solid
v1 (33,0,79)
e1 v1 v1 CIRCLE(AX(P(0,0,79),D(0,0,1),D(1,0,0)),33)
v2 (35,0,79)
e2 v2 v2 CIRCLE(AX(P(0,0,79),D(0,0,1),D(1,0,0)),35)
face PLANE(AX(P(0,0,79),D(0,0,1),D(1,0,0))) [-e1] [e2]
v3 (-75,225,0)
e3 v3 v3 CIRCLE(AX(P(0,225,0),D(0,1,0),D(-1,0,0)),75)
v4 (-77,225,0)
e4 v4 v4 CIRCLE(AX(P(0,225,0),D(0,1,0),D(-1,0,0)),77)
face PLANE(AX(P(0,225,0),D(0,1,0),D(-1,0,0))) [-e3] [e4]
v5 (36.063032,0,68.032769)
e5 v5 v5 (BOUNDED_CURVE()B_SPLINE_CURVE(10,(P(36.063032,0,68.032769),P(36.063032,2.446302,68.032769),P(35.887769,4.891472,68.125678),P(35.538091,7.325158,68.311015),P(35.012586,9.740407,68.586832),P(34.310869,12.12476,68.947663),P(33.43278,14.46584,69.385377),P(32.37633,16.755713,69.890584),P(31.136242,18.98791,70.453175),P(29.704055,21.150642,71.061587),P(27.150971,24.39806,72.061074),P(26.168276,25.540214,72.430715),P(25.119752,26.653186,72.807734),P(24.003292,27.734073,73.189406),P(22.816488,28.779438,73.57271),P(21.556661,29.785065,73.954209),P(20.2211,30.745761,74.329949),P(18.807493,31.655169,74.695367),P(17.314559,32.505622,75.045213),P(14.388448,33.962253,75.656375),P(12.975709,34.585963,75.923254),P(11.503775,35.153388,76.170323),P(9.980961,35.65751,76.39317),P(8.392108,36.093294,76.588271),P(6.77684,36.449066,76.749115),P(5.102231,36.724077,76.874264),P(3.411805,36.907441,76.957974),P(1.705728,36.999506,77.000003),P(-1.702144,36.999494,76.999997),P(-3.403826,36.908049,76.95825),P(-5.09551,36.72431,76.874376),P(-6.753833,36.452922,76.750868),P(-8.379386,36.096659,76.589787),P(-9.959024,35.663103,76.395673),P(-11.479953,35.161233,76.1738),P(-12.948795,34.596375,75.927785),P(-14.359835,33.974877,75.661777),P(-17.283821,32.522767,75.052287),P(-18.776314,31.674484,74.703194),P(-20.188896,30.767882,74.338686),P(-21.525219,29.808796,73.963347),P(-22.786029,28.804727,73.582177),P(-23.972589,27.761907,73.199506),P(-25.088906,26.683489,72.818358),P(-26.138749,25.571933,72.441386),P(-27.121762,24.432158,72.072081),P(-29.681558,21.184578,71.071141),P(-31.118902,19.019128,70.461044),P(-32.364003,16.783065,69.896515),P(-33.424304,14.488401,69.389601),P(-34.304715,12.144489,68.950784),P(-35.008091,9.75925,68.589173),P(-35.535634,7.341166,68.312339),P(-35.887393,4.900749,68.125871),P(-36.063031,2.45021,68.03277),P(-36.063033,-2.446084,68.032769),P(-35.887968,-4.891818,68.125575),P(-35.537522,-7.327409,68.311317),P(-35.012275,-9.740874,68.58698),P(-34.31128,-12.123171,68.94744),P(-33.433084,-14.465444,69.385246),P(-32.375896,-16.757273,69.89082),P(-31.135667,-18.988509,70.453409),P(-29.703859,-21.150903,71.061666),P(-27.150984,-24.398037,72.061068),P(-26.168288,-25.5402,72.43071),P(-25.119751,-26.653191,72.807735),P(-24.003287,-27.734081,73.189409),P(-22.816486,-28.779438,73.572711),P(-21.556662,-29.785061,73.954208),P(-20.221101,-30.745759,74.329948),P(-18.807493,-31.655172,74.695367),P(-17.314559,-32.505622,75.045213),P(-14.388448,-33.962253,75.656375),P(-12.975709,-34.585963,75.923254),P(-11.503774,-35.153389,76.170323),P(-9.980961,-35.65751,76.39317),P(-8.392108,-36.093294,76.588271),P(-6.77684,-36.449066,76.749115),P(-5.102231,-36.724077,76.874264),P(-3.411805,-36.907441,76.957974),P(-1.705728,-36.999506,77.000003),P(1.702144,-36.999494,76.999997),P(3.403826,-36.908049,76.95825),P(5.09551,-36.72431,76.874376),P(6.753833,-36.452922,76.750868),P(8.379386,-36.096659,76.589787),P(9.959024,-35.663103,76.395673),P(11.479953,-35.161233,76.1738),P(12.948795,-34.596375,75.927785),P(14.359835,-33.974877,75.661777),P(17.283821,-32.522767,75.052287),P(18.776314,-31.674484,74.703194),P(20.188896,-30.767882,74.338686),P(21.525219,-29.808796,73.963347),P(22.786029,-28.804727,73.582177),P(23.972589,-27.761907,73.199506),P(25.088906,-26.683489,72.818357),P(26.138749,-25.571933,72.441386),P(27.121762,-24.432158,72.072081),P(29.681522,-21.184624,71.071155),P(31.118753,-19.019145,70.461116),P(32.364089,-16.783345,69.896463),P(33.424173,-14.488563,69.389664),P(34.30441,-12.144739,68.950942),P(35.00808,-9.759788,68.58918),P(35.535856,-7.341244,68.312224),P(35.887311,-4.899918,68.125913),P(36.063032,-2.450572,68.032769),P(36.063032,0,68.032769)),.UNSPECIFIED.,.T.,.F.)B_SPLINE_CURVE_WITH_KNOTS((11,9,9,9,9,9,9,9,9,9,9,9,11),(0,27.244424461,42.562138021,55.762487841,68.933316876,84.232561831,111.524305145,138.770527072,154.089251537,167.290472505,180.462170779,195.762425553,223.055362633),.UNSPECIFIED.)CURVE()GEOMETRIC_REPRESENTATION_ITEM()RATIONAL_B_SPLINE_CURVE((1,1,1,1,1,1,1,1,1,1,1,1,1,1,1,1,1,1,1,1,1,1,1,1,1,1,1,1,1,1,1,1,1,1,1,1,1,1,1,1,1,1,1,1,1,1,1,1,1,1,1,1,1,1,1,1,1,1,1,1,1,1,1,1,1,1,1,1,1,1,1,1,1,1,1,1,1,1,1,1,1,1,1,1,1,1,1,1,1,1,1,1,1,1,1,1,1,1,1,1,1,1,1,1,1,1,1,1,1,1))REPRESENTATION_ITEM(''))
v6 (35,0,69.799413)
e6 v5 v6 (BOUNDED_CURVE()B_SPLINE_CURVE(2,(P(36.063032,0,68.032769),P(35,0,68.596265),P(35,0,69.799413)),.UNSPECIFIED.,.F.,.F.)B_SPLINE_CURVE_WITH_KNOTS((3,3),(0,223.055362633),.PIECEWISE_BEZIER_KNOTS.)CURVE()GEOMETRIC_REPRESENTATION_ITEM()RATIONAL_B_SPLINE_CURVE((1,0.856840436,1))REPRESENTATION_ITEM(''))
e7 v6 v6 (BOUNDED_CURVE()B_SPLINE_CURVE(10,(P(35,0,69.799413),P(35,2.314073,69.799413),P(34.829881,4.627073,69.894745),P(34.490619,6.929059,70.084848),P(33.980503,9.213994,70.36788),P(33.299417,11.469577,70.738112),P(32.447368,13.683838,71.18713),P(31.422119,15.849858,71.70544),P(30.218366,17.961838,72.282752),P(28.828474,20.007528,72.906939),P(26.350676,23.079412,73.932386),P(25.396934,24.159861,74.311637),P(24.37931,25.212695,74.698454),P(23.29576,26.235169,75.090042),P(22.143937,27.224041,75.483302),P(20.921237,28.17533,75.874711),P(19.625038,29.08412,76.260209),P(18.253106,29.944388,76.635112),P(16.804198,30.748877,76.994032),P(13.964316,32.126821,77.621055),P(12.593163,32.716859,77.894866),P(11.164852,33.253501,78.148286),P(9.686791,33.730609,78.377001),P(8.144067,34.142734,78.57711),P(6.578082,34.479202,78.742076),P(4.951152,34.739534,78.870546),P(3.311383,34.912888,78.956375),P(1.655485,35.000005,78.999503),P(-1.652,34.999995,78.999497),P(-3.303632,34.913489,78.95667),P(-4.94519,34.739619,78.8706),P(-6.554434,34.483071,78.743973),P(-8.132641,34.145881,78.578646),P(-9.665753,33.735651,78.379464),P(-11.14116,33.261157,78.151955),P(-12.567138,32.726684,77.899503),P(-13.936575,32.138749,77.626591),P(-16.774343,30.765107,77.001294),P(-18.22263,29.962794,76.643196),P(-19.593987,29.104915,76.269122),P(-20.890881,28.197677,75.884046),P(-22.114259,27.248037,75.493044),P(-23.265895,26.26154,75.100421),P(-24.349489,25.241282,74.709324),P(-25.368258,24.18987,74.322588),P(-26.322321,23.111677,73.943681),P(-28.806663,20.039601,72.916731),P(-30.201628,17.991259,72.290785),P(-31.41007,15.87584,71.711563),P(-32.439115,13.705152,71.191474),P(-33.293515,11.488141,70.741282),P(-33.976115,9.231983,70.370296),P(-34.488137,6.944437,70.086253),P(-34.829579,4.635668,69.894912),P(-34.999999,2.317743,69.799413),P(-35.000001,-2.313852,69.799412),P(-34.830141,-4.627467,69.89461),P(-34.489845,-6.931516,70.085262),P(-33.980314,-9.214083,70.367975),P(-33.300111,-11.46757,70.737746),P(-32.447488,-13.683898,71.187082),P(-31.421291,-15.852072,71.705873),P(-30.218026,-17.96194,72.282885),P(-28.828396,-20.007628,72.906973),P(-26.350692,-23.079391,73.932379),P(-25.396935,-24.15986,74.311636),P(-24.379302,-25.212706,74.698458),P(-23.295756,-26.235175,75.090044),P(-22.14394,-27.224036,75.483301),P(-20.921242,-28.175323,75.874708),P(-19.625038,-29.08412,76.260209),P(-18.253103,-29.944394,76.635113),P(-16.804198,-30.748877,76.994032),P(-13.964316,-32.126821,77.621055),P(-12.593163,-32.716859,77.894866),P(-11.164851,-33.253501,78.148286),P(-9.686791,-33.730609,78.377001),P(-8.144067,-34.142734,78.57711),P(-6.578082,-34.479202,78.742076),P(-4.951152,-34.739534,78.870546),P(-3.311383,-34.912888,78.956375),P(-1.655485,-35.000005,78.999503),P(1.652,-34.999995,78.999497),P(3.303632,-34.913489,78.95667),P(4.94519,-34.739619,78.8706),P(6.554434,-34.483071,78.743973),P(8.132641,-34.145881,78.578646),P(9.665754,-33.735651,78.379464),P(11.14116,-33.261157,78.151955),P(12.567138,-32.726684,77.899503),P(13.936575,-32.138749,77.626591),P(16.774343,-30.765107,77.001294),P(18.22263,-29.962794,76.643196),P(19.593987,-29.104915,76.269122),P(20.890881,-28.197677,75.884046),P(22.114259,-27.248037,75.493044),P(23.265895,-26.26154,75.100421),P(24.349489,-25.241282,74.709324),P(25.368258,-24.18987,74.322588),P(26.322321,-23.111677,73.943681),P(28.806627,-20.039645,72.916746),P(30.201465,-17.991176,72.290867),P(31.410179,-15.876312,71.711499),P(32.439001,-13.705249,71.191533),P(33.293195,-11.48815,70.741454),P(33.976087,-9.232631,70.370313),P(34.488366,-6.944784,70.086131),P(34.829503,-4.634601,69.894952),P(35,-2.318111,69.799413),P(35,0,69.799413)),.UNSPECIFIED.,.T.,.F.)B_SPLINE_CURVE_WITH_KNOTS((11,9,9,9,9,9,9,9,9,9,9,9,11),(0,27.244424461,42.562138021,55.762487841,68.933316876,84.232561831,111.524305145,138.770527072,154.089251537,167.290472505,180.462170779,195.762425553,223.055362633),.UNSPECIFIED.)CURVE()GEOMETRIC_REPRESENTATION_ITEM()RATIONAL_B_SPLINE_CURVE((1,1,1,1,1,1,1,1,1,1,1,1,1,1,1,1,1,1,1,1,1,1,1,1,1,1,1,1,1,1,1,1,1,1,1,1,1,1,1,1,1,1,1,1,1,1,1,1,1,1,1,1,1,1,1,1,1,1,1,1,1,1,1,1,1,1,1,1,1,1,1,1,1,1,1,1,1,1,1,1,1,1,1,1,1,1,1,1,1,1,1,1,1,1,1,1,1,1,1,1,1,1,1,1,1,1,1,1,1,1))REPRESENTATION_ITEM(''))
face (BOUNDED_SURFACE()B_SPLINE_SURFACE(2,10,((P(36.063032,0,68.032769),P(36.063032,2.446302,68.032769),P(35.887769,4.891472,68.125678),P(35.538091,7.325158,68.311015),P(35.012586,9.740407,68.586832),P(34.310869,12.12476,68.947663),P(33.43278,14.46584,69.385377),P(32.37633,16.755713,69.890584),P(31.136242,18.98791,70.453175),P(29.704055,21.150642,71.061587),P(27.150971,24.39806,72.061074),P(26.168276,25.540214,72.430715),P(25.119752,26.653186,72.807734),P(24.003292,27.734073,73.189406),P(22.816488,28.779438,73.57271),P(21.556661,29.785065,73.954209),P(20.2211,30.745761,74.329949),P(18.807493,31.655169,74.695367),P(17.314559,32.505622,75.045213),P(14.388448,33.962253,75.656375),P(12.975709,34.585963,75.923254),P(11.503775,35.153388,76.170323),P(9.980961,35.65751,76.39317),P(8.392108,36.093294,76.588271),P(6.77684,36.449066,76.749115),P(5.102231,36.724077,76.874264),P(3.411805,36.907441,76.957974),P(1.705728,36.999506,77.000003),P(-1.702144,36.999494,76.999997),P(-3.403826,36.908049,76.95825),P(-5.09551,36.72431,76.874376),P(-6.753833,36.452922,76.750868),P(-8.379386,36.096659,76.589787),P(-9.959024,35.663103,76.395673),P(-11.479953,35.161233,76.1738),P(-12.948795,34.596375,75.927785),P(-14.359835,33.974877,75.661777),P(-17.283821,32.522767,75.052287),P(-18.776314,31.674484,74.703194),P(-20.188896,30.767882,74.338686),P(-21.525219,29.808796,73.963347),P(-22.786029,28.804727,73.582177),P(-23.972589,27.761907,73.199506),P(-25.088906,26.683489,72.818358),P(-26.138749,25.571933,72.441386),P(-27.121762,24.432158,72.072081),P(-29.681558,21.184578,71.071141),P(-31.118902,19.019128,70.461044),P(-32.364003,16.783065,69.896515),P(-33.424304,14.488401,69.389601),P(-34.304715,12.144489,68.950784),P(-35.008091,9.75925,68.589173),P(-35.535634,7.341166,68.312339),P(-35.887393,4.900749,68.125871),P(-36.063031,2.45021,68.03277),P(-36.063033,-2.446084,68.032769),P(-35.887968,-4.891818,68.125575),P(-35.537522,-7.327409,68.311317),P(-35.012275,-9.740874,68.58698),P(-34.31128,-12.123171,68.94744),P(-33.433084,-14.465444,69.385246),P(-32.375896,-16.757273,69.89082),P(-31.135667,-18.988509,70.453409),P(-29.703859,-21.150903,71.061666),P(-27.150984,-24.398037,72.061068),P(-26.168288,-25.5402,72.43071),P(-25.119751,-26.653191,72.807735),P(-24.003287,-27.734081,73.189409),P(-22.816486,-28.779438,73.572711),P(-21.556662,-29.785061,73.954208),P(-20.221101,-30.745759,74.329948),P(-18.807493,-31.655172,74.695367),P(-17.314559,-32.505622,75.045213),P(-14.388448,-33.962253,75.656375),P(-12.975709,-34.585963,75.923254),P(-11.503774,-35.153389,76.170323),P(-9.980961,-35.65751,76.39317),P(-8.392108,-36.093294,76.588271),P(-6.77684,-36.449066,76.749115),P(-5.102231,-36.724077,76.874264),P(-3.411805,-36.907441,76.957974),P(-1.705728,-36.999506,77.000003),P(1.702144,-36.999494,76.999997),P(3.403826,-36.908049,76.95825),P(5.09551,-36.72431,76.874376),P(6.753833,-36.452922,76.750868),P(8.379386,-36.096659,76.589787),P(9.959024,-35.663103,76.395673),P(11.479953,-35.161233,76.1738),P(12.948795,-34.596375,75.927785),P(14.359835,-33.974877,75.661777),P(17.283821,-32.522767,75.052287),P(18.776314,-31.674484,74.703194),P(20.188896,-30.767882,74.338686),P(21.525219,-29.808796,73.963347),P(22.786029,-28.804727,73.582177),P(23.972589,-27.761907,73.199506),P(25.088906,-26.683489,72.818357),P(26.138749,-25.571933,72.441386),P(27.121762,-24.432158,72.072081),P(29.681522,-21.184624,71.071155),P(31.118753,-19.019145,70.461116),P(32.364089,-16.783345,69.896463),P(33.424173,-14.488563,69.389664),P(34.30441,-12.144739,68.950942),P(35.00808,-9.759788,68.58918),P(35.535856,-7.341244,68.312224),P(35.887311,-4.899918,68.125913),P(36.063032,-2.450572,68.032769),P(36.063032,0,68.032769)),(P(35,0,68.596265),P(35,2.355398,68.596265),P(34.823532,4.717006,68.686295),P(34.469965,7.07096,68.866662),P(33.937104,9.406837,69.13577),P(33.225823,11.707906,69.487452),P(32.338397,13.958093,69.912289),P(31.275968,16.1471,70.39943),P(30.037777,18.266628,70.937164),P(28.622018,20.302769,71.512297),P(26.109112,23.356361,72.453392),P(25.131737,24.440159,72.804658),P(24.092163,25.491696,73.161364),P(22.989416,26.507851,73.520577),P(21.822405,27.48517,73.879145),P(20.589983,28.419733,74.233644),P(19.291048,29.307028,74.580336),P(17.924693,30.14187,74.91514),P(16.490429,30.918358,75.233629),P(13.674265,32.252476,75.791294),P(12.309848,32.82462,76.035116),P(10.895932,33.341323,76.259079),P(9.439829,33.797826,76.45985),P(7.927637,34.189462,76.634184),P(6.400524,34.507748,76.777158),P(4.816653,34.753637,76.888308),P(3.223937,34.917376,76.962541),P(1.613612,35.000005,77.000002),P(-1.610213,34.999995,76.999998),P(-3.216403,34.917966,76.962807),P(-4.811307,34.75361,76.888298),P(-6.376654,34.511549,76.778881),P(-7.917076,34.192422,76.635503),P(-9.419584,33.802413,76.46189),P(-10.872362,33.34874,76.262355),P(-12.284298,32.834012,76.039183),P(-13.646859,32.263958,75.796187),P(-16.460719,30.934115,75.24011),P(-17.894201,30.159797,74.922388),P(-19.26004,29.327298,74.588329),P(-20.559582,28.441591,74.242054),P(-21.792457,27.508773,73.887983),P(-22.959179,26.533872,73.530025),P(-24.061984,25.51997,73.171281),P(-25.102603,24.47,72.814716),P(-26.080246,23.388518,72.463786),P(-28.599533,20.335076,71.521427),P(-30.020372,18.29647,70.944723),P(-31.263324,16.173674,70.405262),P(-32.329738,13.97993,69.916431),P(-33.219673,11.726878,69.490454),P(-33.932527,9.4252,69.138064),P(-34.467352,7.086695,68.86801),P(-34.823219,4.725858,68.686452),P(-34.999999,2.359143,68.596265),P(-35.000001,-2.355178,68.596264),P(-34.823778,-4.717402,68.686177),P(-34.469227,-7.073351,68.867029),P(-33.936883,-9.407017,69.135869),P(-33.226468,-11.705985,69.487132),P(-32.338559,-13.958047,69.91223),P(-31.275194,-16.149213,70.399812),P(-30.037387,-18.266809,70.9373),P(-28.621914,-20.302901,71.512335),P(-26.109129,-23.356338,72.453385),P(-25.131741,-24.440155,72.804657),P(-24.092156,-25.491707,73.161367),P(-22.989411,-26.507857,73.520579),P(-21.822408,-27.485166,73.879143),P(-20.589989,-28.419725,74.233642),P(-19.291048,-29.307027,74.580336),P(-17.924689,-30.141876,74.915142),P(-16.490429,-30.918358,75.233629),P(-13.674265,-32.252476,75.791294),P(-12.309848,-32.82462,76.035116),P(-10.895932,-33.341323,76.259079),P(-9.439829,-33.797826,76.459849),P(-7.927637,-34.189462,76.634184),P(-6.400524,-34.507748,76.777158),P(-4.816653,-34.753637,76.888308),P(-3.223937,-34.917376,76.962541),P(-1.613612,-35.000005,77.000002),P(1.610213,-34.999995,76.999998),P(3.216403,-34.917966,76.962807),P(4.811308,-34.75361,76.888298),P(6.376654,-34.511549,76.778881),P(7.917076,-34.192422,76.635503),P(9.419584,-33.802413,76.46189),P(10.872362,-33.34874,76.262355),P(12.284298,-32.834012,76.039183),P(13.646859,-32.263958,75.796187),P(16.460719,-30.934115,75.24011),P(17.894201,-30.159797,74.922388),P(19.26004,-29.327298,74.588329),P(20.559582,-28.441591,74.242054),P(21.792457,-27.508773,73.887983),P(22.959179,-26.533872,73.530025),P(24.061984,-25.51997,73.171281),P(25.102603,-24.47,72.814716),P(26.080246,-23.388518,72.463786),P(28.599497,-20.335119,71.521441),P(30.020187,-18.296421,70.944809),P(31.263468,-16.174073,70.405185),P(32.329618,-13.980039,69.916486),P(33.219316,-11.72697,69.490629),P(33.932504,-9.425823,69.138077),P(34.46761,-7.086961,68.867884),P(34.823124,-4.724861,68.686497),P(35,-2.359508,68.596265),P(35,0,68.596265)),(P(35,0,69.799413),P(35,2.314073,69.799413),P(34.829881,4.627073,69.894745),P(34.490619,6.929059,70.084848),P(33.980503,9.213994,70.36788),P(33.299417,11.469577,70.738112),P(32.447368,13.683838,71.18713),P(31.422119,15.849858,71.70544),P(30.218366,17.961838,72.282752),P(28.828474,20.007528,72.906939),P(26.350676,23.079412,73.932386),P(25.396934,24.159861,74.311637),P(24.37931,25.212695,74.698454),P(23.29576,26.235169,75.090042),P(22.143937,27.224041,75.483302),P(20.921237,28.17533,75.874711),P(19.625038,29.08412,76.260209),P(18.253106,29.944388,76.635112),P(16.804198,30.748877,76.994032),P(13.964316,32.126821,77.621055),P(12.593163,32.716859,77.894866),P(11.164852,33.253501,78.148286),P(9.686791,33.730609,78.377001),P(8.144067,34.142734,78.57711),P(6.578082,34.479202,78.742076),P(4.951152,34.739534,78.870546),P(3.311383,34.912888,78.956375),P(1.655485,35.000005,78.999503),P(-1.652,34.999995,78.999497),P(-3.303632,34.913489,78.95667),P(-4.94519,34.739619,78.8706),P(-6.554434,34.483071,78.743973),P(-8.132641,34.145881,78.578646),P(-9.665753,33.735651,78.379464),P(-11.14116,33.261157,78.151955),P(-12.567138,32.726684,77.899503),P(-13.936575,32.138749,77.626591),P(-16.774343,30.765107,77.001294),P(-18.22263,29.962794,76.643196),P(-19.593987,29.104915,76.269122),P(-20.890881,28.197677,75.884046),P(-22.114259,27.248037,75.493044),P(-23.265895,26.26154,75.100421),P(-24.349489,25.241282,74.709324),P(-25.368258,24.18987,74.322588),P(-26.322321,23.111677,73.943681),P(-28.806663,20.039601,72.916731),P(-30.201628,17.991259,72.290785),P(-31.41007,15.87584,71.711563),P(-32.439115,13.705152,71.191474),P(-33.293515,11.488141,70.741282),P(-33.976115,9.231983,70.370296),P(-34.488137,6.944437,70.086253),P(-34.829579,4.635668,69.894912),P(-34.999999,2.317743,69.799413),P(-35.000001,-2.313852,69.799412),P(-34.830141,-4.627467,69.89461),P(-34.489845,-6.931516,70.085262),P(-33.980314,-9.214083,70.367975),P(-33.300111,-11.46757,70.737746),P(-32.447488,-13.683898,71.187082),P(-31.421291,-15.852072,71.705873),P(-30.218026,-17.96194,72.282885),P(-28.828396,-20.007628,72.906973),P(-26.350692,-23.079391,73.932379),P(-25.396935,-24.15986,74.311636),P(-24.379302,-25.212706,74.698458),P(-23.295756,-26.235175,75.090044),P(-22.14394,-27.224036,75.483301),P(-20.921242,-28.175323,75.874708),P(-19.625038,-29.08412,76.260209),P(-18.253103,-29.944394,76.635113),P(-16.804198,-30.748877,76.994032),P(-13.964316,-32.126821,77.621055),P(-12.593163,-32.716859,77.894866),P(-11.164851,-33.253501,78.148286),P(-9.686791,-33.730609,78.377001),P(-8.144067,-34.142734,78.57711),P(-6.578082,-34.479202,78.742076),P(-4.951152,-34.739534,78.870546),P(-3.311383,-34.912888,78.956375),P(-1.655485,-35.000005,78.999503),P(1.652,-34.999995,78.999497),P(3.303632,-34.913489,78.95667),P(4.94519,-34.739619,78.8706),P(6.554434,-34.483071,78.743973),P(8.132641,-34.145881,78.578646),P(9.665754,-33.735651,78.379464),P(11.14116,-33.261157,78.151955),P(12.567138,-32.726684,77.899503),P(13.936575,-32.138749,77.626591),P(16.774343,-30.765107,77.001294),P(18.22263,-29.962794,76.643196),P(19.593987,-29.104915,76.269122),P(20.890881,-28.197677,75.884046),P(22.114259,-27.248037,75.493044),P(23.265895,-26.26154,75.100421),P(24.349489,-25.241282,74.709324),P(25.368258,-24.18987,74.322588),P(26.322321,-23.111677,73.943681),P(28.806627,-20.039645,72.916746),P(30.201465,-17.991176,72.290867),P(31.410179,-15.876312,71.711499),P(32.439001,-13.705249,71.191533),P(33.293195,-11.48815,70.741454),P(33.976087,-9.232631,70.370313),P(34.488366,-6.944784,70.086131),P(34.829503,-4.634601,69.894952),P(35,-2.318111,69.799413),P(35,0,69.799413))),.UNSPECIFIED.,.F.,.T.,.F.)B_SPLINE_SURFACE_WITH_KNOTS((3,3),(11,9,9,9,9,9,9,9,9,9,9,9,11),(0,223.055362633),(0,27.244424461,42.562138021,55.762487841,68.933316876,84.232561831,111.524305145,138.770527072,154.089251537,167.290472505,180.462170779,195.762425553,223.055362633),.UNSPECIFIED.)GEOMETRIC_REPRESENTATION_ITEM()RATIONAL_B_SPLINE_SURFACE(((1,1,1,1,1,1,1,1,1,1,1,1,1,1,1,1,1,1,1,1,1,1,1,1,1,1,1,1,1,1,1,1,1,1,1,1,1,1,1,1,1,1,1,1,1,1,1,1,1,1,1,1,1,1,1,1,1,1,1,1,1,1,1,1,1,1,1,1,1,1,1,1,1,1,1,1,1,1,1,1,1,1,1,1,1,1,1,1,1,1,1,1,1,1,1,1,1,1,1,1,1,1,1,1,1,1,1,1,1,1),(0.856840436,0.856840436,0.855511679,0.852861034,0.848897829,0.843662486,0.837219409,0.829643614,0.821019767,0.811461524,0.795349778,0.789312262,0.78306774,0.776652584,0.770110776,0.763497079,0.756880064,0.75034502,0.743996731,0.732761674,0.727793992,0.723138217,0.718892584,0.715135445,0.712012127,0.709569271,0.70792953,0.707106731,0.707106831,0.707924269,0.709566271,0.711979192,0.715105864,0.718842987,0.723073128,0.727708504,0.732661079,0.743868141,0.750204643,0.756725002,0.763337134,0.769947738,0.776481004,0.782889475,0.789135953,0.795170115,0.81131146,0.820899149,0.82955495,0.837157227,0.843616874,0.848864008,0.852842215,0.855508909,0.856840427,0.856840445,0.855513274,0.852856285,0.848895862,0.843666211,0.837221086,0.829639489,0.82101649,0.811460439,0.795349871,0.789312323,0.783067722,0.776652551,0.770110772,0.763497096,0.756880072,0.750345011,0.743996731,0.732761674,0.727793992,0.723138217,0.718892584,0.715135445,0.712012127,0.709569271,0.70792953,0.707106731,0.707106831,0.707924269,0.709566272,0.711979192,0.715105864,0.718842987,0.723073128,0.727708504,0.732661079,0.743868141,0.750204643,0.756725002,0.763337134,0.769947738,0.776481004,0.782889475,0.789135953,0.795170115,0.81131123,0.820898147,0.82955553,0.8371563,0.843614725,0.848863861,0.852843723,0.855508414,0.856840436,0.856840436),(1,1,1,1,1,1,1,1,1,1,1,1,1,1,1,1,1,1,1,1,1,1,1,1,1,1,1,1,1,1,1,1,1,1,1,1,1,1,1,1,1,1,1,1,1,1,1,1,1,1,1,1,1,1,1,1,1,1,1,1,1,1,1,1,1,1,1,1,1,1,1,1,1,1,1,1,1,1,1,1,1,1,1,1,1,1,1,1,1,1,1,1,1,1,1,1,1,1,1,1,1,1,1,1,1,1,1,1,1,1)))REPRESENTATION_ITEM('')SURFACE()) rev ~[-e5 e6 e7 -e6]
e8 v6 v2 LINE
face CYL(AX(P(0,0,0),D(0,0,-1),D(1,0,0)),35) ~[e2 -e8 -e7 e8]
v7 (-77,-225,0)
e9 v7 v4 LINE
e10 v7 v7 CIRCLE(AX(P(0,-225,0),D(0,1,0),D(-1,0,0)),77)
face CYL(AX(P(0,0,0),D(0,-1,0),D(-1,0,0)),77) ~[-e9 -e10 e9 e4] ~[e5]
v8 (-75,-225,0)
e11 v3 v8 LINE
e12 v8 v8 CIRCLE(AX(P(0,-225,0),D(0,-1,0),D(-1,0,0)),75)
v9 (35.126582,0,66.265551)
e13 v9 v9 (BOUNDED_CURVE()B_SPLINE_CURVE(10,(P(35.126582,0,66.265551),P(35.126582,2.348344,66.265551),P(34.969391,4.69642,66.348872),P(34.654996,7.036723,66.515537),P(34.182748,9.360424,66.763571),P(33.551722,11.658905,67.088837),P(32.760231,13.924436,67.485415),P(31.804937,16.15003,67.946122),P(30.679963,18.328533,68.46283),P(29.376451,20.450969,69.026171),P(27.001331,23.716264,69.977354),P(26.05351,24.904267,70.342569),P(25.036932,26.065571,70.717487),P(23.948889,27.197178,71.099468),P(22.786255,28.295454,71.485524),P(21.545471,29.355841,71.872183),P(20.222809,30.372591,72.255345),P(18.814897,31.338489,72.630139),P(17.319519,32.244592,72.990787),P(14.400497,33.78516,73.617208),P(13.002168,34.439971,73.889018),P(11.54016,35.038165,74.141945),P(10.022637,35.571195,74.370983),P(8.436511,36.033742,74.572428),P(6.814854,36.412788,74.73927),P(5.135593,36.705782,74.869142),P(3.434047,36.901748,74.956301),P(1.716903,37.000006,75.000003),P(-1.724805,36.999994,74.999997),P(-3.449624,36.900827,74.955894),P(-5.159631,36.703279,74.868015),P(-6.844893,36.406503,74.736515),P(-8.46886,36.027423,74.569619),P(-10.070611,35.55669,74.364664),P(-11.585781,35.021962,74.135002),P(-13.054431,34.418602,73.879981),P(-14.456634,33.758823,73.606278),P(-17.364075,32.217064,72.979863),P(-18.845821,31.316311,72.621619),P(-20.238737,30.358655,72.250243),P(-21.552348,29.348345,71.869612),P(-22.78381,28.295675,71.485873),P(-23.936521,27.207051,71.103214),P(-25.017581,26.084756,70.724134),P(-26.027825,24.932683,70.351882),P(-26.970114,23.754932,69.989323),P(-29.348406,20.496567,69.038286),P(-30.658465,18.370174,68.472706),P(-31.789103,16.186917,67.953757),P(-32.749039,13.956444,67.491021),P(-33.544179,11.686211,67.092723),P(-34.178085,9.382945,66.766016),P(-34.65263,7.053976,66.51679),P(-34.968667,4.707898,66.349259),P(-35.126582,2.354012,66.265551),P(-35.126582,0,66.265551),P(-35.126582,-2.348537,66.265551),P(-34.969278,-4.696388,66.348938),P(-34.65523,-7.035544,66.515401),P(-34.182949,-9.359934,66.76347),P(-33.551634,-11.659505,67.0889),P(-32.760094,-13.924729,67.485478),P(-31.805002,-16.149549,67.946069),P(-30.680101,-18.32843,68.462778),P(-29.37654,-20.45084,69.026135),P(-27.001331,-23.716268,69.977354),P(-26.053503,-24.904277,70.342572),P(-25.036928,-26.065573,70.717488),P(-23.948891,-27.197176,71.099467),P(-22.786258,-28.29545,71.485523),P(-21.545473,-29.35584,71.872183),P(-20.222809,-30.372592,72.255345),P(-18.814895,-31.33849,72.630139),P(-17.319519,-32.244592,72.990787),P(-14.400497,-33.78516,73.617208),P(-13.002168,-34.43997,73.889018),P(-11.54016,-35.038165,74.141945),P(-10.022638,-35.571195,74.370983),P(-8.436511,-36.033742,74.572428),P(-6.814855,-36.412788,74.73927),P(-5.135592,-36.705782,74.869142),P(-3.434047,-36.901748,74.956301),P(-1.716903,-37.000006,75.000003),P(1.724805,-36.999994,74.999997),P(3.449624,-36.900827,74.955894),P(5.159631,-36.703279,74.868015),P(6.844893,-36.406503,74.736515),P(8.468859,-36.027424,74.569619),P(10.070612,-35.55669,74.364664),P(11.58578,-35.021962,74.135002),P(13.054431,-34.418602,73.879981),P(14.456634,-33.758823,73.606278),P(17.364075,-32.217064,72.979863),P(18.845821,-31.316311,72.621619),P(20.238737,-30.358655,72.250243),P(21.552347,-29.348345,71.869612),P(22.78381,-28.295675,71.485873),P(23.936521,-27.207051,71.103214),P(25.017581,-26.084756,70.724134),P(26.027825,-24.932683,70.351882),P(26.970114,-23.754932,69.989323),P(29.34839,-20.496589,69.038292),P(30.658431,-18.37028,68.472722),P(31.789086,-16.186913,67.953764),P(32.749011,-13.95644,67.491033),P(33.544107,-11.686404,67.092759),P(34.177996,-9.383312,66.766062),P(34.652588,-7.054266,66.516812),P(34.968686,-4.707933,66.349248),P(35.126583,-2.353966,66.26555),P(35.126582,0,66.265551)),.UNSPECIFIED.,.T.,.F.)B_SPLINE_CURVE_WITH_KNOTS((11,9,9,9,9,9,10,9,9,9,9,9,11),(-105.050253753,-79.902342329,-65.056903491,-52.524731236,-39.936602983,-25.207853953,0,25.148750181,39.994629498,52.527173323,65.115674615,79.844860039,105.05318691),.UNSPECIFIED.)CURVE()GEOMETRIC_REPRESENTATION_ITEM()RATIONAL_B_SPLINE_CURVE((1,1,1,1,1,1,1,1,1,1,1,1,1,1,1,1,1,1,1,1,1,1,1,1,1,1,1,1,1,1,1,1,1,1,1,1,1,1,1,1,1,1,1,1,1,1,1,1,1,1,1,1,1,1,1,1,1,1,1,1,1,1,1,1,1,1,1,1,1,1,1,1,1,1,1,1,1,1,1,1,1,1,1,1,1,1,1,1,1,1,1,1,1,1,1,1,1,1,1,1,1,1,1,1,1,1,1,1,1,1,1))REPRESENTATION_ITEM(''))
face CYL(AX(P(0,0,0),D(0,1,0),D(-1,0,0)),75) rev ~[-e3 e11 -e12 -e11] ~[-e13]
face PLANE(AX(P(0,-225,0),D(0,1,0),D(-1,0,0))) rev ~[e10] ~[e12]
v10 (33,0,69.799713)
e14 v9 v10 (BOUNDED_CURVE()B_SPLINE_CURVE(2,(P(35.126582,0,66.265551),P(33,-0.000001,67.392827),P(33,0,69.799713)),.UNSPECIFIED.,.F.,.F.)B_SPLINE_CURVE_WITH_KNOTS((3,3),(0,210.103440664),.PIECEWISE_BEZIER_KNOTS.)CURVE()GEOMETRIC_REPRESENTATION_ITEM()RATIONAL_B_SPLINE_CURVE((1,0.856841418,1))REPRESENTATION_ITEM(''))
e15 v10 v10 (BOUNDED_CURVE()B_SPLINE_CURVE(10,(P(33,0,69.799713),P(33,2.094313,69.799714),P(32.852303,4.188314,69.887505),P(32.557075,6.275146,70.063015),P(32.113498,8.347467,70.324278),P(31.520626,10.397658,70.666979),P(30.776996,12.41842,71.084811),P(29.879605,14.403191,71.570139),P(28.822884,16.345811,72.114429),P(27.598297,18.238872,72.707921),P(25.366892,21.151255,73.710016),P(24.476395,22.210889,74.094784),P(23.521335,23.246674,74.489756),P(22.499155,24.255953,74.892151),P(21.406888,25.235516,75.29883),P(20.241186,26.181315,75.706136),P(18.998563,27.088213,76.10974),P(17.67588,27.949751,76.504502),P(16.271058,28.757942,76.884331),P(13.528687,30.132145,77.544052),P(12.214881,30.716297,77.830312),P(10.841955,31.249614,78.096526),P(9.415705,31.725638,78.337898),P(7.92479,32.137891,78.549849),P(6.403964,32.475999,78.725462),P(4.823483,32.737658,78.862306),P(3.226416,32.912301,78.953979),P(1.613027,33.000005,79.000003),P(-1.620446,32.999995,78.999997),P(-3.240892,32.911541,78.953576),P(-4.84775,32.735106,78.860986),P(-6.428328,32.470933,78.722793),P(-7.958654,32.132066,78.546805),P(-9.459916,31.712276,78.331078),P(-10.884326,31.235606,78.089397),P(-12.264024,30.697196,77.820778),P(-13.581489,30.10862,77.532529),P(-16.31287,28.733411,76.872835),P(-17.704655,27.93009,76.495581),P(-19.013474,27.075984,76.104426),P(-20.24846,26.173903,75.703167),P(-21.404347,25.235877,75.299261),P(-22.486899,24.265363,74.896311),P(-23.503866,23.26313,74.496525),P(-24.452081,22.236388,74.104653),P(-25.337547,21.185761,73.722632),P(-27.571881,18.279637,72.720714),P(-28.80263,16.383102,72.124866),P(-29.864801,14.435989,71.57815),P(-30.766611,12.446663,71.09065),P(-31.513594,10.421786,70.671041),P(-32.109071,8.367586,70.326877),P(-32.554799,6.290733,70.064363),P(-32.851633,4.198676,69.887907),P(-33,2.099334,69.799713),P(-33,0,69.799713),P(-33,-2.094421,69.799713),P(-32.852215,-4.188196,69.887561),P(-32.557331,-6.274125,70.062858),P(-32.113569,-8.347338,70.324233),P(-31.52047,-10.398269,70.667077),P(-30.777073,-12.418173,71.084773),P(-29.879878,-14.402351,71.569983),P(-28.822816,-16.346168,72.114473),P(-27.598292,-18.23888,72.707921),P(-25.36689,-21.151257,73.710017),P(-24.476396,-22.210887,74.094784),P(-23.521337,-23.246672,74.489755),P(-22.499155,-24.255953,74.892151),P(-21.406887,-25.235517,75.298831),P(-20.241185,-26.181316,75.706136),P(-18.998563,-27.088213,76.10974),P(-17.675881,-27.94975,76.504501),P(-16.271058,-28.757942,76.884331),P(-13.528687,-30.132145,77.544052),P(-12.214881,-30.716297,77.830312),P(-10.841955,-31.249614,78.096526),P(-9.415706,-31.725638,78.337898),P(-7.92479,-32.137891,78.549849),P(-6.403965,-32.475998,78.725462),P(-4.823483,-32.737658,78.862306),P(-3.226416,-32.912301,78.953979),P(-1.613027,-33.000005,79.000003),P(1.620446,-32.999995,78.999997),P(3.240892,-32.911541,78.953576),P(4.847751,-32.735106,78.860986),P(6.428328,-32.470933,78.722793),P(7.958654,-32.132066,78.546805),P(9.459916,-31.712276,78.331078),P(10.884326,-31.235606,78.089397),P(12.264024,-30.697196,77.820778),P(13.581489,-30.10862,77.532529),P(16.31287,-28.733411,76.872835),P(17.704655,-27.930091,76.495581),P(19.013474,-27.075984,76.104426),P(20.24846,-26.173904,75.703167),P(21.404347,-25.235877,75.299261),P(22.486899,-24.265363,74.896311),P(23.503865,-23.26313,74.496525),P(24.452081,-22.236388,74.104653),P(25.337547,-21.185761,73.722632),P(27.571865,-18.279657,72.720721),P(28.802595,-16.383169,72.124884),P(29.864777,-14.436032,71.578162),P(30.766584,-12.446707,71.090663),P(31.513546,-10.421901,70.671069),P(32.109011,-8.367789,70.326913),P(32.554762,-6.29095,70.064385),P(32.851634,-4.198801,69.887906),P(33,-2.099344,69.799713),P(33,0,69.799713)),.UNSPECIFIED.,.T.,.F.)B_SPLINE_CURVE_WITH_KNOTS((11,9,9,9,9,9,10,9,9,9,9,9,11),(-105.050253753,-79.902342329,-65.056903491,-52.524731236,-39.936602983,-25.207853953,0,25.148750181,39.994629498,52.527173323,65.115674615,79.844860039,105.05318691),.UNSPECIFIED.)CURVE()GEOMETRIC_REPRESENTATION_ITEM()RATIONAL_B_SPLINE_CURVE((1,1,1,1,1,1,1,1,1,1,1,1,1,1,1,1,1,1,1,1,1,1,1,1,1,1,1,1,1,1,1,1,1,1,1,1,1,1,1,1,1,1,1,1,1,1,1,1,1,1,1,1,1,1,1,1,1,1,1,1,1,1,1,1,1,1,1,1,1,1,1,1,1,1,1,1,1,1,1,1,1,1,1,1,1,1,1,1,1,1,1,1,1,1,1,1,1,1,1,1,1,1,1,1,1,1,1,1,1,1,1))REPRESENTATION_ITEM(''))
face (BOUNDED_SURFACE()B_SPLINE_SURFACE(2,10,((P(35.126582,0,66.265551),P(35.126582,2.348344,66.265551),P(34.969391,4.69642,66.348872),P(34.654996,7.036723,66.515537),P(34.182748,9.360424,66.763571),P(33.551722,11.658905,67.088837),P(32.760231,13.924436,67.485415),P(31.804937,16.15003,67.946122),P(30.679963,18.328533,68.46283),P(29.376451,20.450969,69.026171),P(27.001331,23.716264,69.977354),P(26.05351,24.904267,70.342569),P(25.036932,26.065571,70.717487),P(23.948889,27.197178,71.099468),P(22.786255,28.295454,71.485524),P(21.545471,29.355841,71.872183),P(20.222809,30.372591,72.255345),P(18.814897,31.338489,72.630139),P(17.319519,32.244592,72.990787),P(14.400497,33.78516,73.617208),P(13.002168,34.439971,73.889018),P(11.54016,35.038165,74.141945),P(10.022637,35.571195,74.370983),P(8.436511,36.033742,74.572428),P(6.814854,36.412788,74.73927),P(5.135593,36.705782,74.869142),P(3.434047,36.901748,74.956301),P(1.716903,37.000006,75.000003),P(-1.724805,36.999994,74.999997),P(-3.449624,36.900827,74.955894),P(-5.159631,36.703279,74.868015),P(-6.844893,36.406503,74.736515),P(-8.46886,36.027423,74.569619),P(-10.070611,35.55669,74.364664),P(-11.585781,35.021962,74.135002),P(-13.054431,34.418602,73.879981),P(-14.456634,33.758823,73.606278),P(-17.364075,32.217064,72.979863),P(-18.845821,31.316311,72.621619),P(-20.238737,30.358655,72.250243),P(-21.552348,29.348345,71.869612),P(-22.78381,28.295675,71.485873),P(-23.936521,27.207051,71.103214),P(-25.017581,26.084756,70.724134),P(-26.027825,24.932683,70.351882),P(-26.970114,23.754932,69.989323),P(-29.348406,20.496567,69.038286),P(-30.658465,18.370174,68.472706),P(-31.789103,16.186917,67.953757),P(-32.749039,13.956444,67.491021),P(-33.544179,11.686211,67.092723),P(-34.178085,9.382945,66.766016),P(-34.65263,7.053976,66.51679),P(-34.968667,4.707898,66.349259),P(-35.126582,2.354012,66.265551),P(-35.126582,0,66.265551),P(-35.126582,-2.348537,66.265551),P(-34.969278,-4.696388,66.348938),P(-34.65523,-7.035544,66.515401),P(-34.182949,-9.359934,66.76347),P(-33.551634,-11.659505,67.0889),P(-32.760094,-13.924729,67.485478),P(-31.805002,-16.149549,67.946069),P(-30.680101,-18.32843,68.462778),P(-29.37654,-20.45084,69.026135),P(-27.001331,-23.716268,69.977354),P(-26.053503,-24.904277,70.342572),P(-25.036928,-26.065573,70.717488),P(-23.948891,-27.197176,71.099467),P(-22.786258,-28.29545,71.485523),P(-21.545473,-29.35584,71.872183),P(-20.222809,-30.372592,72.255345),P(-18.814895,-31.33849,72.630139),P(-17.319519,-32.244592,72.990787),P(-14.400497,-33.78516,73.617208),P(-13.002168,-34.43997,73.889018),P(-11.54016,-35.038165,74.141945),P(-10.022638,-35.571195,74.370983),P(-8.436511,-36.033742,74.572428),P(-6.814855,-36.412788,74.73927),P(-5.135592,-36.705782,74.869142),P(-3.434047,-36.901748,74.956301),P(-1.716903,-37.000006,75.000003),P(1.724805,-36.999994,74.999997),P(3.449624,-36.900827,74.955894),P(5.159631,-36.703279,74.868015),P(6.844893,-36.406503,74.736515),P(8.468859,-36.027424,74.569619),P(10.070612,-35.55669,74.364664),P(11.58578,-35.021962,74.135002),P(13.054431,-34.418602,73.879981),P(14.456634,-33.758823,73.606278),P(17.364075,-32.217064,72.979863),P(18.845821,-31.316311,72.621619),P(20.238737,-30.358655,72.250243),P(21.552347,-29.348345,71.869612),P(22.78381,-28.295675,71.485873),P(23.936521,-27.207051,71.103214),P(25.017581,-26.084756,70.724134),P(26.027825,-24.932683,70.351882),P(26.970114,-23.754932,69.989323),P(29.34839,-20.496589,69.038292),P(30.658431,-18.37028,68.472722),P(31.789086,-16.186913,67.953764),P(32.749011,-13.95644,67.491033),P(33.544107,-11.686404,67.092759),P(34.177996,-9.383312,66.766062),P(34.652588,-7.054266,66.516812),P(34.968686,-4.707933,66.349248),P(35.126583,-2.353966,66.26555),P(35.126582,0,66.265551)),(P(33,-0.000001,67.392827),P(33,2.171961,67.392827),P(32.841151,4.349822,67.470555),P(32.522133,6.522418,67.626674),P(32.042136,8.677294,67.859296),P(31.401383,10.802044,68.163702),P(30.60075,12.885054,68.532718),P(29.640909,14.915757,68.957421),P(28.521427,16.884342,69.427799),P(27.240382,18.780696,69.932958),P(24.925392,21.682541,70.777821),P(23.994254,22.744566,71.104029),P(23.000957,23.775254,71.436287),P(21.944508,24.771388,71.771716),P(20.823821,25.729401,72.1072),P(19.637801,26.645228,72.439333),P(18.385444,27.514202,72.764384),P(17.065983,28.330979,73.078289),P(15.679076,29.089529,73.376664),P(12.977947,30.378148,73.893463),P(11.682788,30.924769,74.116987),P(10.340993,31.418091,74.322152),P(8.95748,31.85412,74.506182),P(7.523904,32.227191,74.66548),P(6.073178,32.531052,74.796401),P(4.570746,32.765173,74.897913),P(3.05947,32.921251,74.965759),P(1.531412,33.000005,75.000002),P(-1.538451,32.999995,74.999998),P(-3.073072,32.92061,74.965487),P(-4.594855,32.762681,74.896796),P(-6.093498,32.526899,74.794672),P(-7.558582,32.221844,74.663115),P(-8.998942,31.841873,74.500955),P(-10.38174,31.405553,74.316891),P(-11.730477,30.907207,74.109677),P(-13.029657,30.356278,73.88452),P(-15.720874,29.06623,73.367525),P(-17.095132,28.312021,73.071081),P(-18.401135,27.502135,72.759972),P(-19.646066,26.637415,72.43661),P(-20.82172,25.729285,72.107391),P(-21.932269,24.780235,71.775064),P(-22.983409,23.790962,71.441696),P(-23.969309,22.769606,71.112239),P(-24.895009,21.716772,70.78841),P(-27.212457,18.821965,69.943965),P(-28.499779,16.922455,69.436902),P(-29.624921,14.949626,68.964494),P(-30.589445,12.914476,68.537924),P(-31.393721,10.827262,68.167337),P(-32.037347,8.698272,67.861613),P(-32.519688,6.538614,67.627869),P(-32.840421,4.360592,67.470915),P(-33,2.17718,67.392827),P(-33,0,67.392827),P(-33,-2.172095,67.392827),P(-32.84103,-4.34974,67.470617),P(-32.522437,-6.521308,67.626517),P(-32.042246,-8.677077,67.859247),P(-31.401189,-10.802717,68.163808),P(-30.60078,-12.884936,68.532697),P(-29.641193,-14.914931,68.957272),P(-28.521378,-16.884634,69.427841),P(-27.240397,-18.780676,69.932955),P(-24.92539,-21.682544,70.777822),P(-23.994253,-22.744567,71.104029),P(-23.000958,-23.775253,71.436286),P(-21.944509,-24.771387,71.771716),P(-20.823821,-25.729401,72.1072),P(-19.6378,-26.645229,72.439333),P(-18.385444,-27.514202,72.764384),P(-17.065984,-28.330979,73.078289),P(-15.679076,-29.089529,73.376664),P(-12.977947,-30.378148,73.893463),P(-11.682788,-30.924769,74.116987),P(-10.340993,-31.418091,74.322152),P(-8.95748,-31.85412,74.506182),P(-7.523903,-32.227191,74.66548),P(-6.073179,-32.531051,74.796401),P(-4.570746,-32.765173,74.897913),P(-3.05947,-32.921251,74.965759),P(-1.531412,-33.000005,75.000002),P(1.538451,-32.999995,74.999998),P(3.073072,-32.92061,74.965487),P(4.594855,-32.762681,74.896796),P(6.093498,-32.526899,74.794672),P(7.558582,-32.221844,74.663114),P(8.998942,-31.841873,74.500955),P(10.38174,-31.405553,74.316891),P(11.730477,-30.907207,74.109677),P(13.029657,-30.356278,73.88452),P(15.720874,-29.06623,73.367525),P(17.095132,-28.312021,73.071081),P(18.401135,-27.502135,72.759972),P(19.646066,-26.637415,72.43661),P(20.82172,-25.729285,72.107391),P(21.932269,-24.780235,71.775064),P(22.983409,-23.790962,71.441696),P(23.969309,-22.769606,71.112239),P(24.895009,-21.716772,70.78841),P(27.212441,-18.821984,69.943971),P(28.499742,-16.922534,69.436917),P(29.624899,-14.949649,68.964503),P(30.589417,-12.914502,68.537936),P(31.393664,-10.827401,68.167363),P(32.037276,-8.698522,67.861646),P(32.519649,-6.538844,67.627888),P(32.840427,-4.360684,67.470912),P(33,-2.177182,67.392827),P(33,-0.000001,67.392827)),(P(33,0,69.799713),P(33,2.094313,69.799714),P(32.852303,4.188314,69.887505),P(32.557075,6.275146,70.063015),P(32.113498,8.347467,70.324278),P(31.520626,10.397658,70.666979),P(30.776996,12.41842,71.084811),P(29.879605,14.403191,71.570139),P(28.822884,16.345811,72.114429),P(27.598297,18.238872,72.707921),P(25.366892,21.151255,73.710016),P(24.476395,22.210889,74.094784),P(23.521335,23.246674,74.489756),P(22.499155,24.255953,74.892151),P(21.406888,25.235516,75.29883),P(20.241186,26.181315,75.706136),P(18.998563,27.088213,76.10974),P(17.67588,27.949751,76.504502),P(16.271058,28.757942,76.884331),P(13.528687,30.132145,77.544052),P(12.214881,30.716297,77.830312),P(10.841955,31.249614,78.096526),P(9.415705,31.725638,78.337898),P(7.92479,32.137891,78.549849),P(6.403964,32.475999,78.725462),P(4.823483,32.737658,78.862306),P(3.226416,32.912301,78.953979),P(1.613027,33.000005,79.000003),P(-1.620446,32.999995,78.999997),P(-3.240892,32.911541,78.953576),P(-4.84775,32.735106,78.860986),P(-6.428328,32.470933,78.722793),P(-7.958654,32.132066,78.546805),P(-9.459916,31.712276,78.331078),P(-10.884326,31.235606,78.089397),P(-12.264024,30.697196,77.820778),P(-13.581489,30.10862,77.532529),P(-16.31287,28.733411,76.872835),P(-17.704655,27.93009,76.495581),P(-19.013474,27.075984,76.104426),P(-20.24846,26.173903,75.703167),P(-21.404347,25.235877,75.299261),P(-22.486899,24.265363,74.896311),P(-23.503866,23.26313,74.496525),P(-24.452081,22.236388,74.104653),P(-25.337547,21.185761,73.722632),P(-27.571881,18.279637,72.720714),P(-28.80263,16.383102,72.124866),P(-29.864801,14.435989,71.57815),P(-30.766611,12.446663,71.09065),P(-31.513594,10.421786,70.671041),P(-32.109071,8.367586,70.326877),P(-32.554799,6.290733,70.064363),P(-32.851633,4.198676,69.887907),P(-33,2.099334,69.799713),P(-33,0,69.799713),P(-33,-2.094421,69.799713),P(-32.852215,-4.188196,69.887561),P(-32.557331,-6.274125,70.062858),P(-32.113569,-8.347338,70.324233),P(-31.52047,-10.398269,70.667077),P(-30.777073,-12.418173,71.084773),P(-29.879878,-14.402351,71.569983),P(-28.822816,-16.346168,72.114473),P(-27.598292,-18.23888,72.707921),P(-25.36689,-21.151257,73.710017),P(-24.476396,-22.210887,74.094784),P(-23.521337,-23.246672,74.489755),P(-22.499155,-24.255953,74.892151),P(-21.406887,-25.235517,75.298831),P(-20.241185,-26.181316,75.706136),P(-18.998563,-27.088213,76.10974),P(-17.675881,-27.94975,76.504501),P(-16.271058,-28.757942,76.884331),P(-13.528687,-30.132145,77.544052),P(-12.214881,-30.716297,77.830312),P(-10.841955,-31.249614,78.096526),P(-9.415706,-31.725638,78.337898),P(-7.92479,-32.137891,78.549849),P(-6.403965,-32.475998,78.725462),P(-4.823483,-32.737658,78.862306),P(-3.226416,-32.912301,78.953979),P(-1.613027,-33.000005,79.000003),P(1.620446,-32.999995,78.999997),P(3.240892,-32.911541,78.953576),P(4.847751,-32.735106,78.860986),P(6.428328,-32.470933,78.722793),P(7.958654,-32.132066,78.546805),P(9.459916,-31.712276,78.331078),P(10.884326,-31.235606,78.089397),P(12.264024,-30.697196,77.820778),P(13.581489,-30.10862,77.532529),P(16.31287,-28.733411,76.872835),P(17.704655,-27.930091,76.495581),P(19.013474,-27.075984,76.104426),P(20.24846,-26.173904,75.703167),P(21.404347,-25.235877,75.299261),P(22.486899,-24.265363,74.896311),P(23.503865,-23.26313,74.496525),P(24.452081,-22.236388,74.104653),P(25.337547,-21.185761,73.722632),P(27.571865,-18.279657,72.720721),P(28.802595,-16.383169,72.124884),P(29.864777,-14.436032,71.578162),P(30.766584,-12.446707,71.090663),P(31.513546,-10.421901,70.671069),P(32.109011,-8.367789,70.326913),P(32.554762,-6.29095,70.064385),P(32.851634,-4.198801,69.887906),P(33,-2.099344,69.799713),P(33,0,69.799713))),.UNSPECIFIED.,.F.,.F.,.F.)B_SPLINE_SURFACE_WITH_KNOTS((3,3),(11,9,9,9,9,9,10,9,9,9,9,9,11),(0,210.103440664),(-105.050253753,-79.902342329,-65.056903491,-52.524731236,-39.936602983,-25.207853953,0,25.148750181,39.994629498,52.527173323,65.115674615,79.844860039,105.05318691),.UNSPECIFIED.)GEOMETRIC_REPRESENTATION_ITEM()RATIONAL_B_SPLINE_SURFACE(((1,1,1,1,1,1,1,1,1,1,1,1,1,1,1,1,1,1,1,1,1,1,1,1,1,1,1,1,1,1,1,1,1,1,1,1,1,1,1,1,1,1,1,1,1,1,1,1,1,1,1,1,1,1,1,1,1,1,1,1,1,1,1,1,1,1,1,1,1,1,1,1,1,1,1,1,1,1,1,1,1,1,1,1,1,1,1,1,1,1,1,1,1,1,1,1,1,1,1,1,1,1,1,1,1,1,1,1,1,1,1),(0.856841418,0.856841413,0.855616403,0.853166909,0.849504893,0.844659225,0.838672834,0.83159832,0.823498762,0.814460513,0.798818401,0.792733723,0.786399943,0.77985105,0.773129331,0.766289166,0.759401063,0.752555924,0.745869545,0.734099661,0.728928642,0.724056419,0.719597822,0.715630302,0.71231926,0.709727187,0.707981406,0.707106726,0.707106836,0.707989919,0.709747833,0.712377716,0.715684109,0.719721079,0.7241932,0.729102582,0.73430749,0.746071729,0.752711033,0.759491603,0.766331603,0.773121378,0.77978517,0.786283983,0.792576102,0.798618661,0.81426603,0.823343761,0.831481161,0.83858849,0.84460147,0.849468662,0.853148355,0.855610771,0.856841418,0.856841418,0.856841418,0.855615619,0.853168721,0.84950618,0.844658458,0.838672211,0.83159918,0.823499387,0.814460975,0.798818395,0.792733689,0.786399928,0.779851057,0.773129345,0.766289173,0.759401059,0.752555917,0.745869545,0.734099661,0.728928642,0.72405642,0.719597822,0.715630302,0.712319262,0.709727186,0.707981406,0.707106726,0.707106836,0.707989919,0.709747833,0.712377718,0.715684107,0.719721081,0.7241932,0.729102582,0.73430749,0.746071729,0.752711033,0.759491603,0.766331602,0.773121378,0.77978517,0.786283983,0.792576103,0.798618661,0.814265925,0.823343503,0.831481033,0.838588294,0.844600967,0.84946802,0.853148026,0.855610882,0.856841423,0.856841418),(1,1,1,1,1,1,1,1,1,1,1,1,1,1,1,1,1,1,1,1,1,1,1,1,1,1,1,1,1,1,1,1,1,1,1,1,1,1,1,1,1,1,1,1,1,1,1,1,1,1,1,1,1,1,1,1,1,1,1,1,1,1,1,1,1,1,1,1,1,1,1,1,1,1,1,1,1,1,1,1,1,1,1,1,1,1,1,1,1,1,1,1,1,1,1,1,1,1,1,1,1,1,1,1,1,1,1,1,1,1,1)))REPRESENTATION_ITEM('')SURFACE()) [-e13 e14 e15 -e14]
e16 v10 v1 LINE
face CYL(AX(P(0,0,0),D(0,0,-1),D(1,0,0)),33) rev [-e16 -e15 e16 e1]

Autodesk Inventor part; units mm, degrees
ref_plane "YZ Plane" through (0, 0, 0) normal (1, 0, 0) x (0, 1, 0)
ref_plane "XZ Plane" through (0, 0, 0) normal (0, 1, 0) x (-1, 0, 0)
ref_plane "XY Plane" through (0, 0, 0) normal (0, 0, 1) x (1, 0, 0)
sketch "Szkic8" plane through (0, 0, 0) normal (0, 1, 0) x (-1, 0, 0)
  circle A0 centre (0, 0) radius 77
  circle A1 centre (0, 0) radius 75
  dimension "d53" = 154
  dimension "d54" = 2
extrude "Wyciągnięcie proste2" add sketch "Szkic8" along normal mid plane 450
sketch "Szkic13" plane through (0, 0, 0) normal (0, 0, 1) x (1, 0, 0)
  circle A0 centre (0, 0) radius 35
  circle A1 centre (0, 0) radius 33
  dimension "d67" = 70
  dimension "d68" = 2
extrude "Wyciągnięcie proste6" add sketch "Szkic13" along normal blind 79
sketch "Szkic14" plane through (0, 0, 79) normal (0, 0, 1) x (1, 0, 0)
  circle A0 centre (0, 0) radius 33 projected
extrude "Wyciągnięcie proste7" cut sketch "Szkic14" against normal blind 79
sketch "Szkic15" plane through (0, -225, 0) normal (0, -1, 0) x (1, 0, 0)
  circle A0 centre (0, 0) radius 75 projected
extrude "Wyciągnięcie proste8" cut sketch "Szkic15" against normal blind 450
fillet "Zaokrąglenie3" radius 2 2 edges at (0.0004, 35, 77) (-0.0008, -35, 77)
fillet "Zaokrąglenie4" radius 4 2 edges at (-0.0008, -33, 75) (0.0005, 33, 75)
equation "\"d53\" = OD"
equation "\"d54\" = THK"
equation "\"d55\" = L1"
equation "\"d67\" = OD2"
equation "\"d68\" = THK"
equation "\"d69\" = L2"
equation "\"d71\" = L2"
equation "\"d73\" = L1"
equation "\"d75\" = THK"
equation "\"d76\" = 2 * THK"
equation "\"SzerokośćGięciaPodcięcia\" = Grubość"
equation "\"RozmiarPodcięciaNarożnika\" = 4 * Grubość"
equation "\"PromieńPrzejścia\" = PromieńGięcia"
equation "\"Rozmiar_promienia_Jacobiego\" = PromieńGięcia"
equation "\"Wielk_odstępu\" = Grubość"
equation "\"d2\" = PromieńGięcia"
equation "\"d23\" = PromieńGięcia"
equation "\"OD\" = 154"
equation "\"THK\" = 2"
equation "\"L1\" = 450"
equation "\"L2\" = 79"
equation "\"OD2\" = 70"
equation "\"Grubość\" = 1.5"
equation "\"PromieńGięcia\" = 3"
properties part number "Trójnik red. krótki  Ø154 70 154 s=2 L=450" material "304"
